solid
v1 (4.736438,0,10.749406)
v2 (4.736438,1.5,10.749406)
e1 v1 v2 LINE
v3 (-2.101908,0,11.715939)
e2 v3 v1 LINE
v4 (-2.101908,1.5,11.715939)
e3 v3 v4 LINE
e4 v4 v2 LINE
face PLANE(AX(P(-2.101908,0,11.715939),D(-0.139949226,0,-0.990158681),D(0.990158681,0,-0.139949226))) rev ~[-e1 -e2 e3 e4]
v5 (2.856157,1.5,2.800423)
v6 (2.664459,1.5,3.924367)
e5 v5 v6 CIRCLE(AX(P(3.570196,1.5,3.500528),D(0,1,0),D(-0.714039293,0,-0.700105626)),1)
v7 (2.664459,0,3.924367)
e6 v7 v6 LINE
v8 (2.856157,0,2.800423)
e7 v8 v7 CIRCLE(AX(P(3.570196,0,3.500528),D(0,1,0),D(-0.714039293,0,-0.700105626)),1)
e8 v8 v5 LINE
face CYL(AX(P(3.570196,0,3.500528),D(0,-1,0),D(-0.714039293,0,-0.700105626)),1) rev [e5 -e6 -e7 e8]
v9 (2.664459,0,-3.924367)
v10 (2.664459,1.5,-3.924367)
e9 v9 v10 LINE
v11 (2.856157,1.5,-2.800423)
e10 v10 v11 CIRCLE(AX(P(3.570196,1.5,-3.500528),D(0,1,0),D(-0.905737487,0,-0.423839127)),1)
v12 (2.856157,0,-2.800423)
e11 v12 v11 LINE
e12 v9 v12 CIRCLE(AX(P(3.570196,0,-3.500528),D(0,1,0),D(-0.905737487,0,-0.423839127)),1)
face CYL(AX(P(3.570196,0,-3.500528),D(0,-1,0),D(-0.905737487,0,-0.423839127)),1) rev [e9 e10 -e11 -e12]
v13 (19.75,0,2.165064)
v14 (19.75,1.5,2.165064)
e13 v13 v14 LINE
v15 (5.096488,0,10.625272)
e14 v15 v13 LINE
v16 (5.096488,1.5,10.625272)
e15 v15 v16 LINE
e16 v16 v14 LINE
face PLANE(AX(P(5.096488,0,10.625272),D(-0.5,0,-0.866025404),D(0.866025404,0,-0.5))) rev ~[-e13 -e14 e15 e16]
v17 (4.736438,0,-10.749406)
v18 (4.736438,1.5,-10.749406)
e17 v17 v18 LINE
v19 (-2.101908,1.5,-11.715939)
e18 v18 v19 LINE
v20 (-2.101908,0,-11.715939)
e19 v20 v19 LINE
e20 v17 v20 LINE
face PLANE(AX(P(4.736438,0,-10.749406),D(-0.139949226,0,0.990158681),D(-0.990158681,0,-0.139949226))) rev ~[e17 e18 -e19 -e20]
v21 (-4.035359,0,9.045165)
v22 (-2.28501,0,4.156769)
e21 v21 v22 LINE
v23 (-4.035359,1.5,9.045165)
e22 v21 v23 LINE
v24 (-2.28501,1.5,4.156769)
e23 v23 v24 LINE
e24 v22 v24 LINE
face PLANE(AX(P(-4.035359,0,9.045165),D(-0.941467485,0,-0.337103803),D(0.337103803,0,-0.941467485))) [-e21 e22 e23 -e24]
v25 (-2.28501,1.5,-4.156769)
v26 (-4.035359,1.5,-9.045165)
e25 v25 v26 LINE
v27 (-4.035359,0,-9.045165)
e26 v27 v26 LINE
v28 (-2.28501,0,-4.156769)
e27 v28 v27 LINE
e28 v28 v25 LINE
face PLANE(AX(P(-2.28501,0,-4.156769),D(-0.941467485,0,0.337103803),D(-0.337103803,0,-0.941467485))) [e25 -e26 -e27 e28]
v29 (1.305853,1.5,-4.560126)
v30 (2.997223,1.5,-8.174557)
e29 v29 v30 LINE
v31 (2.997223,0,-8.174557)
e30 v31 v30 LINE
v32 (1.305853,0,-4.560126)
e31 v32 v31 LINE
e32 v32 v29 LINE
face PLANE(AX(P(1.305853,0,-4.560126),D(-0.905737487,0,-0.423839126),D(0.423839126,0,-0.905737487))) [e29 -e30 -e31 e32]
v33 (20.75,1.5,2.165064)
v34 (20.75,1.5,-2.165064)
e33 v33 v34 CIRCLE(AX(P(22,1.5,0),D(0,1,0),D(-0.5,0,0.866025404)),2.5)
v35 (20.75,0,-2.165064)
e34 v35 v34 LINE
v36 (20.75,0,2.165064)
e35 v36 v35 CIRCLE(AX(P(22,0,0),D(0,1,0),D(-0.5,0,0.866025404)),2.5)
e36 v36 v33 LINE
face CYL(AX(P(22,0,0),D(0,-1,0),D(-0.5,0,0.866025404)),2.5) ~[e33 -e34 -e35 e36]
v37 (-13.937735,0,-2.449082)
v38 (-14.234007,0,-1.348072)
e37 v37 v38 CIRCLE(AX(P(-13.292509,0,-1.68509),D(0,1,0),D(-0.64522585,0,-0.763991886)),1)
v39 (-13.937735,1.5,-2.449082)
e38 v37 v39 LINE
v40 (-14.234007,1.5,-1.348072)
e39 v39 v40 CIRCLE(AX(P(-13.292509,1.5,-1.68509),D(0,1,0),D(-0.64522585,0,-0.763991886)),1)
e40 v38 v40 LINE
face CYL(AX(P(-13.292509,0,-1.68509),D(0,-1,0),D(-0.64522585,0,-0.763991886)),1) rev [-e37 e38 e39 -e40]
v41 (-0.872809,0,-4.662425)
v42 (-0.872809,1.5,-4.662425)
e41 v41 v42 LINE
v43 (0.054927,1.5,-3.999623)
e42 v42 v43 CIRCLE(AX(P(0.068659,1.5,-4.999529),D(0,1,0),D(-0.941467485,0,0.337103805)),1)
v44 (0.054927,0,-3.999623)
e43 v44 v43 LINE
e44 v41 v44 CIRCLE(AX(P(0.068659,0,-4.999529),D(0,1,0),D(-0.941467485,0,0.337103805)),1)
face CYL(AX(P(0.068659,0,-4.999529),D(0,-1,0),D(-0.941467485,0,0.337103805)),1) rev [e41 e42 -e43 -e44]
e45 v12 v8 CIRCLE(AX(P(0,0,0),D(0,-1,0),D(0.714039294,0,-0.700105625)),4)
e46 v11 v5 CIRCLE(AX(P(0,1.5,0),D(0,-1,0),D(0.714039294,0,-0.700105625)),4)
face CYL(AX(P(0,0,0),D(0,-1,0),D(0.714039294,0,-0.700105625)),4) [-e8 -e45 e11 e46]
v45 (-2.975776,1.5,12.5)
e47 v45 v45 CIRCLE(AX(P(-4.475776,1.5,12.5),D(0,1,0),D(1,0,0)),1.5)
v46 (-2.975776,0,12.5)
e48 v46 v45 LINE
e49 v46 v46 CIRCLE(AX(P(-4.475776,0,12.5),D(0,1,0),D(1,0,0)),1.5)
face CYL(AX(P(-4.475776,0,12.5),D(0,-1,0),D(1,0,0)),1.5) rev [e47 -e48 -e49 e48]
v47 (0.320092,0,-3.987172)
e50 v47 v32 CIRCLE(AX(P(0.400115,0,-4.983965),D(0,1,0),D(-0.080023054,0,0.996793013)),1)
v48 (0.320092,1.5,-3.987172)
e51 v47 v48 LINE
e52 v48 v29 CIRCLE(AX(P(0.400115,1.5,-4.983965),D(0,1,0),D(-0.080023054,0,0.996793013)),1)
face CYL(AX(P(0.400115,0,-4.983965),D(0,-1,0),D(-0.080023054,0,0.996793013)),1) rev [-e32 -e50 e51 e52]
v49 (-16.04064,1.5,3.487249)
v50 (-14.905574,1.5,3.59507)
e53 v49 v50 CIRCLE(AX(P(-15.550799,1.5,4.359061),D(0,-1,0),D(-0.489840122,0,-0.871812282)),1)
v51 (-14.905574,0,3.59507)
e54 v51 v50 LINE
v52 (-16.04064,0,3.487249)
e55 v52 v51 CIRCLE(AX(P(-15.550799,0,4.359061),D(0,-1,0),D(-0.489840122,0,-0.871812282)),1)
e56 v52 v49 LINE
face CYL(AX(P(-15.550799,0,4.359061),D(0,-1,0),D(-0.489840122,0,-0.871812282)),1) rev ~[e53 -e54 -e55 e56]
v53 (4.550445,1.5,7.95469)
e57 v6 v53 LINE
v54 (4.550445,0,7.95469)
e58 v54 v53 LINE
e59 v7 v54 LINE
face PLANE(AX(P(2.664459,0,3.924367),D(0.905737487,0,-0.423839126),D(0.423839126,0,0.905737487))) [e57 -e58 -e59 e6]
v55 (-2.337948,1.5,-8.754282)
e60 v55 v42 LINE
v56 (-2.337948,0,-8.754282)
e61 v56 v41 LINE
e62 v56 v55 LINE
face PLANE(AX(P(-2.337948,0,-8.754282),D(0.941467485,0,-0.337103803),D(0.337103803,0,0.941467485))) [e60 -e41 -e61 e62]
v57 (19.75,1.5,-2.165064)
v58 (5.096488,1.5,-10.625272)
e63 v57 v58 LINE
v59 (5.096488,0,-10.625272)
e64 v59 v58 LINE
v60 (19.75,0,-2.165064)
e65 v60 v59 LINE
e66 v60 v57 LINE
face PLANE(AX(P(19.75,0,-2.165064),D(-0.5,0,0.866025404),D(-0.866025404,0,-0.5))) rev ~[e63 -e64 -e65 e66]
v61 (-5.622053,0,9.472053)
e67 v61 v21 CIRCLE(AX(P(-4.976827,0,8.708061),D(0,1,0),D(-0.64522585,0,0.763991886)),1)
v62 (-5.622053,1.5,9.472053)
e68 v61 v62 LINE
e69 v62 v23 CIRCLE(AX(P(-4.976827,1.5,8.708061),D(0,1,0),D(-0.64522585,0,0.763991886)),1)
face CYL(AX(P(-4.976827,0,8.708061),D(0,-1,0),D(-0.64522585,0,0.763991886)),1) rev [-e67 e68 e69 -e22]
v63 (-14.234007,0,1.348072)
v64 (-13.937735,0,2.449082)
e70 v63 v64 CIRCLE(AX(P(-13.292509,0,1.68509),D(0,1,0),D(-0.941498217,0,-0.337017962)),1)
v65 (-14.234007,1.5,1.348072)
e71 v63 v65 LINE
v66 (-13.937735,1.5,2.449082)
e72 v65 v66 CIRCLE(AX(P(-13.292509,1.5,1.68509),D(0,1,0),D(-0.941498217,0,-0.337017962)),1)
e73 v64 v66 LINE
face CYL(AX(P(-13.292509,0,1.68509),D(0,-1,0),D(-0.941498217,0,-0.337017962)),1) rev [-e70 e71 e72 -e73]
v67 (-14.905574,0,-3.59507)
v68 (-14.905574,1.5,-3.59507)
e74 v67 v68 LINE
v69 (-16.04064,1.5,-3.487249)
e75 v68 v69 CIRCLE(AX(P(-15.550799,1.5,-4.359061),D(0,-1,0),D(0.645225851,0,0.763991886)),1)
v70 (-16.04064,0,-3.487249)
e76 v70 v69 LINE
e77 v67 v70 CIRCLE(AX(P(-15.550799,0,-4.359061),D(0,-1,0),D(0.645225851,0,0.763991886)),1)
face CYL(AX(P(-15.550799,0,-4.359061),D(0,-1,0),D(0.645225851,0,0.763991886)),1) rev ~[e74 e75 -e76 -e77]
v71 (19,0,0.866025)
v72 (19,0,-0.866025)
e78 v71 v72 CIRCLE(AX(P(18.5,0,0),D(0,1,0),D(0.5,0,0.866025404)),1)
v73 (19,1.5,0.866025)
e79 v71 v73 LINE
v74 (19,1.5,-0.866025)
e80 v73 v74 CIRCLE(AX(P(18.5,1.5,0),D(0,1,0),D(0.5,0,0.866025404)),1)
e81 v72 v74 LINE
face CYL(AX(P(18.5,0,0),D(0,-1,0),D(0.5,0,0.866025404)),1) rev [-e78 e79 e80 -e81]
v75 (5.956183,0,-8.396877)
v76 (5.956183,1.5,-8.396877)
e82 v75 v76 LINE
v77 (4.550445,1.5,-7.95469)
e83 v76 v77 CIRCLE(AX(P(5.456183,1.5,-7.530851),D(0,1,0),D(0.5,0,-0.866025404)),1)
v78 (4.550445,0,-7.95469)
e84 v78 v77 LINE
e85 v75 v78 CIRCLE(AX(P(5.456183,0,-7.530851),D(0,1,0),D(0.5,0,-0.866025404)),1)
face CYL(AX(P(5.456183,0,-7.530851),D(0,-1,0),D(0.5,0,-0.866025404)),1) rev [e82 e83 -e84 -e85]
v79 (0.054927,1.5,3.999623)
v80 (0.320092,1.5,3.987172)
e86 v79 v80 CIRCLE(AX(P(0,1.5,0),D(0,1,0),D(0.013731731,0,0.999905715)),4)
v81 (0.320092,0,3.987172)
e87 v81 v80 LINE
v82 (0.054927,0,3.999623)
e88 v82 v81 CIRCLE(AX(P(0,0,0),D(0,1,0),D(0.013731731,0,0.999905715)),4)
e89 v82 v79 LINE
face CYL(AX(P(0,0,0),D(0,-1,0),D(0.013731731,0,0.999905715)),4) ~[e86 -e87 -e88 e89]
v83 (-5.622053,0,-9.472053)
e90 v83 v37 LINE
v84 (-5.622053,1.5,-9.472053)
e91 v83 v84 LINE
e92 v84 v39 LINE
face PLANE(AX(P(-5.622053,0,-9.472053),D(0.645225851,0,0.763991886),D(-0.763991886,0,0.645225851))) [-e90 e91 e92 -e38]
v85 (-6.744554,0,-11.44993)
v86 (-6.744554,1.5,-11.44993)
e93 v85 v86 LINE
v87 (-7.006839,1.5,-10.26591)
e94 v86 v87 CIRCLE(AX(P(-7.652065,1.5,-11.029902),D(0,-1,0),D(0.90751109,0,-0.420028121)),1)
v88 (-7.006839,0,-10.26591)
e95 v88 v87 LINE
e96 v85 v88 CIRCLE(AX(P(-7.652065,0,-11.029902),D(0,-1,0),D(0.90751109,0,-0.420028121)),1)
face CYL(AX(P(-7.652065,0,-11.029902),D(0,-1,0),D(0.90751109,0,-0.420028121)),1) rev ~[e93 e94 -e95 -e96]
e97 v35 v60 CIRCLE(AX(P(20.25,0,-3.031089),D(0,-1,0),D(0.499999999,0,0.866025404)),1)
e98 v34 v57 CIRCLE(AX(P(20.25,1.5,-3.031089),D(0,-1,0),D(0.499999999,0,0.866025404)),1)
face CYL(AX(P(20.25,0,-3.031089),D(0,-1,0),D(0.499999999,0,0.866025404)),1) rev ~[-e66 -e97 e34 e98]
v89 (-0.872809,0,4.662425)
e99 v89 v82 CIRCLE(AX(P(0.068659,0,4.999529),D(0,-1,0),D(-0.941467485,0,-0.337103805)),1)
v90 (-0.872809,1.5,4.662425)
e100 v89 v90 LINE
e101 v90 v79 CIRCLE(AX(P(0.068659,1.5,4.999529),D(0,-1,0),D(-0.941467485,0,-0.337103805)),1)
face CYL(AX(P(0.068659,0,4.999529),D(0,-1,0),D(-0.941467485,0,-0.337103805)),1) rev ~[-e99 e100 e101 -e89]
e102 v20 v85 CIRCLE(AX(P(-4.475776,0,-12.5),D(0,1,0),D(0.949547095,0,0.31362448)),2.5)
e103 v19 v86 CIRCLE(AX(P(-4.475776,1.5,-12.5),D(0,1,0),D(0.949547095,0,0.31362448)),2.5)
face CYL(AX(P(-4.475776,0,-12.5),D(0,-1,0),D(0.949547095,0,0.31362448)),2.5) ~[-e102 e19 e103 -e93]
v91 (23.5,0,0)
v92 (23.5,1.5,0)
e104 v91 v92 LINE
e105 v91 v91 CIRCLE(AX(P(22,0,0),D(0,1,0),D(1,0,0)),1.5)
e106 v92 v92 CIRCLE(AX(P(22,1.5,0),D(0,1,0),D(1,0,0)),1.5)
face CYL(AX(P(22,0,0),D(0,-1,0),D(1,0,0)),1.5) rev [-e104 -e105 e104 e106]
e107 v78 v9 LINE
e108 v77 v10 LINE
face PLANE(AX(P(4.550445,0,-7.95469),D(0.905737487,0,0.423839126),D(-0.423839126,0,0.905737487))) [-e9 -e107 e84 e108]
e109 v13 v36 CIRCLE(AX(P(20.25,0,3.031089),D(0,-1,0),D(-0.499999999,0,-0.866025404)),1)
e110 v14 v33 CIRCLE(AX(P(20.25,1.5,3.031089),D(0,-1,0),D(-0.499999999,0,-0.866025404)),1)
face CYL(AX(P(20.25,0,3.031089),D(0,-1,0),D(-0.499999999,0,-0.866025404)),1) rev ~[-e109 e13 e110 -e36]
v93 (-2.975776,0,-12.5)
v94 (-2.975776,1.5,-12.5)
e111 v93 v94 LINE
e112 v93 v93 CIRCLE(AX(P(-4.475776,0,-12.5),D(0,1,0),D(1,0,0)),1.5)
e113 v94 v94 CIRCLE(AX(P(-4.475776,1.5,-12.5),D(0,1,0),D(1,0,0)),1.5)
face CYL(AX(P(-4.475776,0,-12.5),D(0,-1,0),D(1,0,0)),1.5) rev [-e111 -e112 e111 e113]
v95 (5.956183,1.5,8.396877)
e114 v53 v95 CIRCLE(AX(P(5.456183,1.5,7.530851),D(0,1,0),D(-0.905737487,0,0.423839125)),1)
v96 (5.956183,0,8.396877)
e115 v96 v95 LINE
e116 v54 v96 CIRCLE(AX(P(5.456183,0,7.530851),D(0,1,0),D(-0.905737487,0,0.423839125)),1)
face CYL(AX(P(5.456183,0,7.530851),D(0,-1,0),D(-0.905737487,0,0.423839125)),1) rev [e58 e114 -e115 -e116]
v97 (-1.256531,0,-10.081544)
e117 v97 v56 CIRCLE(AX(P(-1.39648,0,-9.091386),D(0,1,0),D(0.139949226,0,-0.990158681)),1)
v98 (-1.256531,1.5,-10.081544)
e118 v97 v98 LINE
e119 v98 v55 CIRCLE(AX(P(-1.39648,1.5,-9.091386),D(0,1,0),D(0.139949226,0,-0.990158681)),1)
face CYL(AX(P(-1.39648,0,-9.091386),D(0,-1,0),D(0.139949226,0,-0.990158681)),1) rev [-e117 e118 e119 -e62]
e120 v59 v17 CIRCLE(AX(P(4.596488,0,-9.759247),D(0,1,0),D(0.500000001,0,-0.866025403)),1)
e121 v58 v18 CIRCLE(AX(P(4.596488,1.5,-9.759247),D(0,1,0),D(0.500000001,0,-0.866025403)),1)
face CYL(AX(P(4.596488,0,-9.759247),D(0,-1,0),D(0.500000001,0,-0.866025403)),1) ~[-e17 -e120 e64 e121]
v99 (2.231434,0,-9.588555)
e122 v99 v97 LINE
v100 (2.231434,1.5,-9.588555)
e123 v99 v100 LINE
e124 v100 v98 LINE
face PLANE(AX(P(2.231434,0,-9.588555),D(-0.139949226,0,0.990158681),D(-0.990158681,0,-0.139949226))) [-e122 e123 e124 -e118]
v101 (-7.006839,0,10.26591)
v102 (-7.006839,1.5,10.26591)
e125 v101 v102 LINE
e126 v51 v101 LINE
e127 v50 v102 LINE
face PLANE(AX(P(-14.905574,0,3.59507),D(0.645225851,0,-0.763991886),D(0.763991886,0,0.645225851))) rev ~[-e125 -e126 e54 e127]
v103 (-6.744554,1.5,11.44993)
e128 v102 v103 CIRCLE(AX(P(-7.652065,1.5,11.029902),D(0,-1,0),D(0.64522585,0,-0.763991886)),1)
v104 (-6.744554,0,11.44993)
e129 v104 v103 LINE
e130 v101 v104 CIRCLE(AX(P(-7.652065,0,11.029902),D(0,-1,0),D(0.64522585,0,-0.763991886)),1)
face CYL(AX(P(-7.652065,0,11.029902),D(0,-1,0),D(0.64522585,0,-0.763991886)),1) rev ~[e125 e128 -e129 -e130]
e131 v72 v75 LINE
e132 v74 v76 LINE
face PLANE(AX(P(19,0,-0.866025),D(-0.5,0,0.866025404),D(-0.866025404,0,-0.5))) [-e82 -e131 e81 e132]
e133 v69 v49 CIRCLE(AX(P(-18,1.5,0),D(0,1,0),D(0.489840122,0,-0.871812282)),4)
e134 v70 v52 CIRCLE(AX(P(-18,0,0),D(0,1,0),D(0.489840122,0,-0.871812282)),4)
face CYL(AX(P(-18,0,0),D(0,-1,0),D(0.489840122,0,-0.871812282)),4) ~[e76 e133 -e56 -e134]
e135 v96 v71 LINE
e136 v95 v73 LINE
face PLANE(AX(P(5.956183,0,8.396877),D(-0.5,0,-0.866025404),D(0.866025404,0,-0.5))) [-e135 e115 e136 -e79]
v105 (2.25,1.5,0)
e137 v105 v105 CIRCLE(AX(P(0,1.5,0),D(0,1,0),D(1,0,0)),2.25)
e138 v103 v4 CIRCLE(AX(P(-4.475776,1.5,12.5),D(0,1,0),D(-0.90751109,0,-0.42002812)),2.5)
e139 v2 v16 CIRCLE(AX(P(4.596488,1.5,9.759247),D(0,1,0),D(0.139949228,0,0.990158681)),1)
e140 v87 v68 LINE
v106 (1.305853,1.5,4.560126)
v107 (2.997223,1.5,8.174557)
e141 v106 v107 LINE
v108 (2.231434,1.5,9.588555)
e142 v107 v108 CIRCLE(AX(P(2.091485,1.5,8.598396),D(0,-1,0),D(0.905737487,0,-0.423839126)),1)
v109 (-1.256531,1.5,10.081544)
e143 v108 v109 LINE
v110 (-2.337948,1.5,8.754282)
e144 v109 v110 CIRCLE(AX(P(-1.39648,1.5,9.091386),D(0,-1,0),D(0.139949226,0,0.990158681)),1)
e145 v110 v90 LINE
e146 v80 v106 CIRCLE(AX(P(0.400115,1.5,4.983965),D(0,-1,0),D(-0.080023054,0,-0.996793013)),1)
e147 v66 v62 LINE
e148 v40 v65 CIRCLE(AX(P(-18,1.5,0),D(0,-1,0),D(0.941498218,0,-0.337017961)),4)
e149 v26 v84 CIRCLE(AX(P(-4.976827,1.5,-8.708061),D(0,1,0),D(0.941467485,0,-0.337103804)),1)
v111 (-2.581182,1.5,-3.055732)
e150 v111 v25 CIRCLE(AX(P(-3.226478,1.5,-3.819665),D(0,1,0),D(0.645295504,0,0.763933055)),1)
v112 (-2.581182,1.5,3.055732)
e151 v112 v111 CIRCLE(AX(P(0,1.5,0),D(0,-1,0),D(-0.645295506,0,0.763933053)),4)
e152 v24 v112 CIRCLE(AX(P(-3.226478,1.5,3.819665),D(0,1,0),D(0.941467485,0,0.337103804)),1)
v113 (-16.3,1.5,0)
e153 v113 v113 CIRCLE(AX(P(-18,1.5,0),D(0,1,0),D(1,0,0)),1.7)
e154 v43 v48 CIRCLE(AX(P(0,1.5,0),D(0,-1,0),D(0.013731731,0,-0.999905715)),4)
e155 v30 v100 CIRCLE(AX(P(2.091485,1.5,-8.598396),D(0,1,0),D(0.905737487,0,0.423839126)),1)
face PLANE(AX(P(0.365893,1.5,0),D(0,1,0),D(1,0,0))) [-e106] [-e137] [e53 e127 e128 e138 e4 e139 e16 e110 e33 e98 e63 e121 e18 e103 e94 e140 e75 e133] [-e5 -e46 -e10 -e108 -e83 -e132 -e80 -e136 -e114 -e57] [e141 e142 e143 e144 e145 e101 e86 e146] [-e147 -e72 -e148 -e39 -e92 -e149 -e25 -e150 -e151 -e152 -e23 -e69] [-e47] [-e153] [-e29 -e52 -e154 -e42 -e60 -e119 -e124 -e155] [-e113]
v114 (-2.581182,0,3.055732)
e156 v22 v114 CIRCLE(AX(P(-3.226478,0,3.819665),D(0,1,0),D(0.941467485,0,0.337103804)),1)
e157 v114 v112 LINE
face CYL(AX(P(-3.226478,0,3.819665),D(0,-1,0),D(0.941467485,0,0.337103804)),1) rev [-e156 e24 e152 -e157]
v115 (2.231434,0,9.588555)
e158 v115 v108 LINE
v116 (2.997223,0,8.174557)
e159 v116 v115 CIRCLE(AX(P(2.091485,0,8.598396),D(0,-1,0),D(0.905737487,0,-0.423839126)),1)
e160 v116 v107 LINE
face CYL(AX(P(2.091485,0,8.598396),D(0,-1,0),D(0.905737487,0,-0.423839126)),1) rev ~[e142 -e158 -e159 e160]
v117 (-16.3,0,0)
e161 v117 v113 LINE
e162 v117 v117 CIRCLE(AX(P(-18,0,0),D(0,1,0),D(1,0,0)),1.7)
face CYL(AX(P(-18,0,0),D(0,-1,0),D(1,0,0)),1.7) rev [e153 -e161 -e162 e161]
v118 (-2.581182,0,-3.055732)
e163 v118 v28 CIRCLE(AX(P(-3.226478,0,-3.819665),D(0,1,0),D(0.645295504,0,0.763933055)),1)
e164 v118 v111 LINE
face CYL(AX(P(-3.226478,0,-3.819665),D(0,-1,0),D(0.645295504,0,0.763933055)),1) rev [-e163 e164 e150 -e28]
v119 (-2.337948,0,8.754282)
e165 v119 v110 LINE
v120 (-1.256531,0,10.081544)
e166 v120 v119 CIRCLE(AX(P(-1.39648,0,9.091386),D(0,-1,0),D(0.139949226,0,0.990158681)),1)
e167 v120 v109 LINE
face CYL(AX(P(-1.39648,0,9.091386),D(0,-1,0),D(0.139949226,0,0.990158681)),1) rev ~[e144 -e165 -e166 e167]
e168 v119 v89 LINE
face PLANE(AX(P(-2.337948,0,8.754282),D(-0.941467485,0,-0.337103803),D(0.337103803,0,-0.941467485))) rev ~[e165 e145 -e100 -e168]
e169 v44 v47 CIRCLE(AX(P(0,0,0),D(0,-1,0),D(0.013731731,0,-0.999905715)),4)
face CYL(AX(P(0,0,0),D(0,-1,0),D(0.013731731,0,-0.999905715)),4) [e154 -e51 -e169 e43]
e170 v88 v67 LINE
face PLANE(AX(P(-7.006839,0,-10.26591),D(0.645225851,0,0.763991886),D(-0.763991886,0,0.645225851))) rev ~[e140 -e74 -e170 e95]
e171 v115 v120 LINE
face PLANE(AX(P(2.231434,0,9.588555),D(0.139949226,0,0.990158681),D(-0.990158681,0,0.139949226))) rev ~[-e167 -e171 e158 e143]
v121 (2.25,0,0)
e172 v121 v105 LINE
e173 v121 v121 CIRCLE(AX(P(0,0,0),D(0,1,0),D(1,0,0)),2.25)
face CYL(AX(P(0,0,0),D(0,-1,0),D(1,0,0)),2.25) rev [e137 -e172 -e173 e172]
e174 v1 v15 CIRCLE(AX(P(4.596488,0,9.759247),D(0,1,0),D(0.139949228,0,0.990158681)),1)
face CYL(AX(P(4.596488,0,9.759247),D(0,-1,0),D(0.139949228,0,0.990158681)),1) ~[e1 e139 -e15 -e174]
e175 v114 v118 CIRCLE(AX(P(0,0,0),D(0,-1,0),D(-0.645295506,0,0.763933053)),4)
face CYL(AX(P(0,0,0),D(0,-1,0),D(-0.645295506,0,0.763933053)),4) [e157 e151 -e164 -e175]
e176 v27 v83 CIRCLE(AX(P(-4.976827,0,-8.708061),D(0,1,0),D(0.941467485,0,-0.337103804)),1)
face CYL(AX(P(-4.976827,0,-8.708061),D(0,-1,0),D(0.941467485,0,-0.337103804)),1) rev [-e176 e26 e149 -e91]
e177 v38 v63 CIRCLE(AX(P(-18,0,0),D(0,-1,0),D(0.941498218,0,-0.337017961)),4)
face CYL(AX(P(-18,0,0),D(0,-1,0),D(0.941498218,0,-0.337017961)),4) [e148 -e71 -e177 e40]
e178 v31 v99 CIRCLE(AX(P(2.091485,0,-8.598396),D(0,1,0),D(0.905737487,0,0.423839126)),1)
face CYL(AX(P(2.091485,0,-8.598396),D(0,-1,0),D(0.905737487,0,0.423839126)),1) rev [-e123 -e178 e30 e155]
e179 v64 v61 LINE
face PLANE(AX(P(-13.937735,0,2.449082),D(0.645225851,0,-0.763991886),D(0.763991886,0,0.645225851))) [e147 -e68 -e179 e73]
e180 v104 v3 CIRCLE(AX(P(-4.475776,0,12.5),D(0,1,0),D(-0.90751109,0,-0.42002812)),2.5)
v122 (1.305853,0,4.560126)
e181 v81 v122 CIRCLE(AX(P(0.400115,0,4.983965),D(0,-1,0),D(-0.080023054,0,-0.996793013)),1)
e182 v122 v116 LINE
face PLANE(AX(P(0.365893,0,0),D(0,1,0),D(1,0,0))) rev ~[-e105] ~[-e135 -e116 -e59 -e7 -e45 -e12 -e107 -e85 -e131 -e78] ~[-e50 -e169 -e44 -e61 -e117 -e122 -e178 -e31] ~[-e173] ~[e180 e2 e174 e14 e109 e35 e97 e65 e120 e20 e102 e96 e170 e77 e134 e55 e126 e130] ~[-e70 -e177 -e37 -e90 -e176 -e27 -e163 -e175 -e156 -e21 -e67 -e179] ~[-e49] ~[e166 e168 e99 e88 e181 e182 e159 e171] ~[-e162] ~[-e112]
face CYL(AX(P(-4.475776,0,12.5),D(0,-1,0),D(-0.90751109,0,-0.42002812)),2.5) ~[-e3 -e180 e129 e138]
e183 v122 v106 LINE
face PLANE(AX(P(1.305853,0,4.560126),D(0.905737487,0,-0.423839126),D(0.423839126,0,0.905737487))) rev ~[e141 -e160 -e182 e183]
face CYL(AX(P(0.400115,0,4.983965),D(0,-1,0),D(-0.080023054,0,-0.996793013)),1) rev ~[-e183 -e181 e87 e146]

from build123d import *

# Parameters (mm, degrees)
SKETCH_1_R      = 2.25
SKETCH_1_R_2    = 1.7
SKETCH_1_R_3    = 1.5
EXTRUDE_1_DEPTH = 1.5


with BuildPart() as part:
    # 草图1 → 凸台-拉伸1 (new body)
    with BuildSketch(Plane(origin=(0, 0, 0), x_dir=(1, 0, 0), z_dir=(0, 1, 0))):
        with BuildLine():
            Line((19.75, 2.165063509), (5.096488448, 10.625272348))
            ThreePointArc((5.096488448, 10.625272348), (4.922427124, 10.704637858), (4.736437674, 10.749405626))
            Line((4.736437674, 10.749405626), (-2.101908222, 11.7159388))
            ThreePointArc((-2.101908222, 11.7159388), (-4.61878361, 14.995906411), (-6.744553684, 11.449929699))
            ThreePointArc((-6.744553684, 11.449929699), (-6.675732942, 10.813623622), (-7.006838923, 10.265909693))
            Line((-7.006838923, 10.265909693), (-14.905573539, 3.595069524))
            ThreePointArc((-14.905573539, 3.595069524), (-15.456234647, 3.363542696), (-16.040639512, 3.487249128))
            ThreePointArc((-16.040639512, 3.487249128), (-22, 0), (-16.040639512, -3.487249128))
            ThreePointArc((-16.040639512, -3.487249128), (-15.456234647, -3.363542696), (-14.905573539, -3.595069524))
            Line((-14.905573539, -3.595069524), (-7.006838923, -10.265909693))
            ThreePointArc((-7.006838923, -10.265909693), (-6.675732942, -10.813623622), (-6.744553684, -11.449929699))
            ThreePointArc((-6.744553684, -11.449929699), (-4.61878361, -14.995906411), (-2.101908222, -11.7159388))
            Line((-2.101908222, -11.7159388), (4.736437674, -10.749405626))
            ThreePointArc((4.736437674, -10.749405626), (4.922427124, -10.704637858), (5.096488448, -10.625272348))
            Line((5.096488448, -10.625272348), (19.75, -2.165063509))
            ThreePointArc((19.75, -2.165063509), (20.25, -2.031088913), (20.75, -2.165063509))
            ThreePointArc((20.75, -2.165063509), (24.5, 0), (20.75, 2.165063509))
            ThreePointArc((20.75, 2.165063509), (20.25, 2.031088913), (19.75, 2.165063509))
        make_face()
        Circle(SKETCH_1_R, mode=Mode.SUBTRACT)
        with Locations((-18, 0)):
            Circle(SKETCH_1_R_2, mode=Mode.SUBTRACT)
        with Locations((22, 0)):
            Circle(SKETCH_1_R_3, mode=Mode.SUBTRACT)
        with Locations((-4.47577596, 12.5)):
            Circle(SKETCH_1_R_3, mode=Mode.SUBTRACT)
        with Locations((-4.47577596, -12.5)):
            Circle(SKETCH_1_R_3, mode=Mode.SUBTRACT)
        with BuildLine():
            Line((2.23143448, 9.588554578), (-1.256530939, 10.081544307))
            ThreePointArc((-1.256530939, 10.081544307), (-2.171731289, 9.72303877), (-2.33794765, 8.754281823))
            Line((-2.33794765, 8.754281823), (-0.872808817, 4.662424773))
            ThreePointArc((-0.872808817, 4.662424773), (-0.512657064, 4.185850496), (0.054926934, 3.999622861))
            ThreePointArc((0.054926934, 3.999622861), (0.187612888, 3.995597753), (0.320092213, 3.987172052))
            ThreePointArc((0.320092213, 3.987172052), (0.902629068, 4.119395878), (1.305852753, 4.56012594))
            Line((1.305852753, 4.56012594), (2.997222742, 8.174556771))
            ThreePointArc((2.997222742, 8.174556771), (2.970810351, 9.074617878), (2.23143448, 9.588554578))
        make_face(mode=Mode.SUBTRACT)
        with BuildLine():
            Line((19, 0.866025404), (5.956182941, 8.396876694))
            ThreePointArc((5.956182941, 8.396876694), (5.156119776, 8.484770625), (4.550445454, 7.954690416))
            Line((4.550445454, 7.954690416), (2.664458984, 3.924367251))
            ThreePointArc((2.664458984, 3.924367251), (2.584431714, 3.332397688), (2.856157177, 2.800422501))
            ThreePointArc((2.856157177, 2.800422501), (4, 0), (2.856157177, -2.800422501))
            ThreePointArc((2.856157177, -2.800422501), (2.584431714, -3.332397688), (2.664458984, -3.924367251))
            Line((2.664458984, -3.924367251), (4.550445454, -7.954690416))
            ThreePointArc((4.550445454, -7.954690416), (5.156119776, -8.484770625), (5.956182941, -8.396876694))
            Line((5.956182941, -8.396876694), (19, -0.866025404))
            ThreePointArc((19, -0.866025404), (19.5, 0), (19, 0.866025404))
        make_face(mode=Mode.SUBTRACT)
        with BuildLine():
            Line((-2.33794765, -8.754281823), (-0.872808817, -4.662424773))
            ThreePointArc((-0.872808817, -4.662424773), (-0.512657064, -4.185850496), (0.054926934, -3.999622861))
            ThreePointArc((0.054926934, -3.999622861), (0.187612888, -3.995597753), (0.320092213, -3.987172052))
            ThreePointArc((0.320092213, -3.987172052), (0.902629068, -4.119395878), (1.305852753, -4.56012594))
            Line((1.305852753, -4.56012594), (2.997222742, -8.174556771))
            ThreePointArc((2.997222742, -8.174556771), (2.970810351, -9.074617878), (2.23143448, -9.588554578))
            Line((2.23143448, -9.588554578), (-1.256530939, -10.081544307))
            ThreePointArc((-1.256530939, -10.081544307), (-2.171731289, -9.72303877), (-2.33794765, -8.754281823))
        make_face(mode=Mode.SUBTRACT)
        with BuildLine():
            Line((-5.622052564, 9.472053038), (-13.937734763, 2.449081695))
            ThreePointArc((-13.937734763, 2.449081695), (-14.258158429, 1.944937864), (-14.23400713, 1.348071847))
            ThreePointArc((-14.23400713, 1.348071847), (-14, 0), (-14.23400713, -1.348071847))
            ThreePointArc((-14.23400713, -1.348071847), (-14.258158429, -1.944937864), (-13.937734763, -2.449081695))
            Line((-13.937734763, -2.449081695), (-5.622052564, -9.472053038))
            ThreePointArc((-5.622052564, -9.472053038), (-4.717022681, -9.673722513), (-4.035359228, -9.045164955))
            Line((-4.035359228, -9.045164955), (-2.285010045, -4.156769069))
            ThreePointArc((-2.285010045, -4.156769069), (-2.260804326, -3.559905256), (-2.581182025, -3.055732213))
            ThreePointArc((-2.581182025, -3.055732213), (-4, 0), (-2.581182025, 3.055732213))
            ThreePointArc((-2.581182025, 3.055732213), (-2.260804326, 3.559905256), (-2.285010045, 4.156769069))
            Line((-2.285010045, 4.156769069), (-4.035359228, 9.045164955))
            ThreePointArc((-4.035359228, 9.045164955), (-4.717022681, 9.673722513), (-5.622052564, 9.472053038))
        make_face(mode=Mode.SUBTRACT)
    extrude(amount=EXTRUDE_1_DEPTH)


solid = part.part
